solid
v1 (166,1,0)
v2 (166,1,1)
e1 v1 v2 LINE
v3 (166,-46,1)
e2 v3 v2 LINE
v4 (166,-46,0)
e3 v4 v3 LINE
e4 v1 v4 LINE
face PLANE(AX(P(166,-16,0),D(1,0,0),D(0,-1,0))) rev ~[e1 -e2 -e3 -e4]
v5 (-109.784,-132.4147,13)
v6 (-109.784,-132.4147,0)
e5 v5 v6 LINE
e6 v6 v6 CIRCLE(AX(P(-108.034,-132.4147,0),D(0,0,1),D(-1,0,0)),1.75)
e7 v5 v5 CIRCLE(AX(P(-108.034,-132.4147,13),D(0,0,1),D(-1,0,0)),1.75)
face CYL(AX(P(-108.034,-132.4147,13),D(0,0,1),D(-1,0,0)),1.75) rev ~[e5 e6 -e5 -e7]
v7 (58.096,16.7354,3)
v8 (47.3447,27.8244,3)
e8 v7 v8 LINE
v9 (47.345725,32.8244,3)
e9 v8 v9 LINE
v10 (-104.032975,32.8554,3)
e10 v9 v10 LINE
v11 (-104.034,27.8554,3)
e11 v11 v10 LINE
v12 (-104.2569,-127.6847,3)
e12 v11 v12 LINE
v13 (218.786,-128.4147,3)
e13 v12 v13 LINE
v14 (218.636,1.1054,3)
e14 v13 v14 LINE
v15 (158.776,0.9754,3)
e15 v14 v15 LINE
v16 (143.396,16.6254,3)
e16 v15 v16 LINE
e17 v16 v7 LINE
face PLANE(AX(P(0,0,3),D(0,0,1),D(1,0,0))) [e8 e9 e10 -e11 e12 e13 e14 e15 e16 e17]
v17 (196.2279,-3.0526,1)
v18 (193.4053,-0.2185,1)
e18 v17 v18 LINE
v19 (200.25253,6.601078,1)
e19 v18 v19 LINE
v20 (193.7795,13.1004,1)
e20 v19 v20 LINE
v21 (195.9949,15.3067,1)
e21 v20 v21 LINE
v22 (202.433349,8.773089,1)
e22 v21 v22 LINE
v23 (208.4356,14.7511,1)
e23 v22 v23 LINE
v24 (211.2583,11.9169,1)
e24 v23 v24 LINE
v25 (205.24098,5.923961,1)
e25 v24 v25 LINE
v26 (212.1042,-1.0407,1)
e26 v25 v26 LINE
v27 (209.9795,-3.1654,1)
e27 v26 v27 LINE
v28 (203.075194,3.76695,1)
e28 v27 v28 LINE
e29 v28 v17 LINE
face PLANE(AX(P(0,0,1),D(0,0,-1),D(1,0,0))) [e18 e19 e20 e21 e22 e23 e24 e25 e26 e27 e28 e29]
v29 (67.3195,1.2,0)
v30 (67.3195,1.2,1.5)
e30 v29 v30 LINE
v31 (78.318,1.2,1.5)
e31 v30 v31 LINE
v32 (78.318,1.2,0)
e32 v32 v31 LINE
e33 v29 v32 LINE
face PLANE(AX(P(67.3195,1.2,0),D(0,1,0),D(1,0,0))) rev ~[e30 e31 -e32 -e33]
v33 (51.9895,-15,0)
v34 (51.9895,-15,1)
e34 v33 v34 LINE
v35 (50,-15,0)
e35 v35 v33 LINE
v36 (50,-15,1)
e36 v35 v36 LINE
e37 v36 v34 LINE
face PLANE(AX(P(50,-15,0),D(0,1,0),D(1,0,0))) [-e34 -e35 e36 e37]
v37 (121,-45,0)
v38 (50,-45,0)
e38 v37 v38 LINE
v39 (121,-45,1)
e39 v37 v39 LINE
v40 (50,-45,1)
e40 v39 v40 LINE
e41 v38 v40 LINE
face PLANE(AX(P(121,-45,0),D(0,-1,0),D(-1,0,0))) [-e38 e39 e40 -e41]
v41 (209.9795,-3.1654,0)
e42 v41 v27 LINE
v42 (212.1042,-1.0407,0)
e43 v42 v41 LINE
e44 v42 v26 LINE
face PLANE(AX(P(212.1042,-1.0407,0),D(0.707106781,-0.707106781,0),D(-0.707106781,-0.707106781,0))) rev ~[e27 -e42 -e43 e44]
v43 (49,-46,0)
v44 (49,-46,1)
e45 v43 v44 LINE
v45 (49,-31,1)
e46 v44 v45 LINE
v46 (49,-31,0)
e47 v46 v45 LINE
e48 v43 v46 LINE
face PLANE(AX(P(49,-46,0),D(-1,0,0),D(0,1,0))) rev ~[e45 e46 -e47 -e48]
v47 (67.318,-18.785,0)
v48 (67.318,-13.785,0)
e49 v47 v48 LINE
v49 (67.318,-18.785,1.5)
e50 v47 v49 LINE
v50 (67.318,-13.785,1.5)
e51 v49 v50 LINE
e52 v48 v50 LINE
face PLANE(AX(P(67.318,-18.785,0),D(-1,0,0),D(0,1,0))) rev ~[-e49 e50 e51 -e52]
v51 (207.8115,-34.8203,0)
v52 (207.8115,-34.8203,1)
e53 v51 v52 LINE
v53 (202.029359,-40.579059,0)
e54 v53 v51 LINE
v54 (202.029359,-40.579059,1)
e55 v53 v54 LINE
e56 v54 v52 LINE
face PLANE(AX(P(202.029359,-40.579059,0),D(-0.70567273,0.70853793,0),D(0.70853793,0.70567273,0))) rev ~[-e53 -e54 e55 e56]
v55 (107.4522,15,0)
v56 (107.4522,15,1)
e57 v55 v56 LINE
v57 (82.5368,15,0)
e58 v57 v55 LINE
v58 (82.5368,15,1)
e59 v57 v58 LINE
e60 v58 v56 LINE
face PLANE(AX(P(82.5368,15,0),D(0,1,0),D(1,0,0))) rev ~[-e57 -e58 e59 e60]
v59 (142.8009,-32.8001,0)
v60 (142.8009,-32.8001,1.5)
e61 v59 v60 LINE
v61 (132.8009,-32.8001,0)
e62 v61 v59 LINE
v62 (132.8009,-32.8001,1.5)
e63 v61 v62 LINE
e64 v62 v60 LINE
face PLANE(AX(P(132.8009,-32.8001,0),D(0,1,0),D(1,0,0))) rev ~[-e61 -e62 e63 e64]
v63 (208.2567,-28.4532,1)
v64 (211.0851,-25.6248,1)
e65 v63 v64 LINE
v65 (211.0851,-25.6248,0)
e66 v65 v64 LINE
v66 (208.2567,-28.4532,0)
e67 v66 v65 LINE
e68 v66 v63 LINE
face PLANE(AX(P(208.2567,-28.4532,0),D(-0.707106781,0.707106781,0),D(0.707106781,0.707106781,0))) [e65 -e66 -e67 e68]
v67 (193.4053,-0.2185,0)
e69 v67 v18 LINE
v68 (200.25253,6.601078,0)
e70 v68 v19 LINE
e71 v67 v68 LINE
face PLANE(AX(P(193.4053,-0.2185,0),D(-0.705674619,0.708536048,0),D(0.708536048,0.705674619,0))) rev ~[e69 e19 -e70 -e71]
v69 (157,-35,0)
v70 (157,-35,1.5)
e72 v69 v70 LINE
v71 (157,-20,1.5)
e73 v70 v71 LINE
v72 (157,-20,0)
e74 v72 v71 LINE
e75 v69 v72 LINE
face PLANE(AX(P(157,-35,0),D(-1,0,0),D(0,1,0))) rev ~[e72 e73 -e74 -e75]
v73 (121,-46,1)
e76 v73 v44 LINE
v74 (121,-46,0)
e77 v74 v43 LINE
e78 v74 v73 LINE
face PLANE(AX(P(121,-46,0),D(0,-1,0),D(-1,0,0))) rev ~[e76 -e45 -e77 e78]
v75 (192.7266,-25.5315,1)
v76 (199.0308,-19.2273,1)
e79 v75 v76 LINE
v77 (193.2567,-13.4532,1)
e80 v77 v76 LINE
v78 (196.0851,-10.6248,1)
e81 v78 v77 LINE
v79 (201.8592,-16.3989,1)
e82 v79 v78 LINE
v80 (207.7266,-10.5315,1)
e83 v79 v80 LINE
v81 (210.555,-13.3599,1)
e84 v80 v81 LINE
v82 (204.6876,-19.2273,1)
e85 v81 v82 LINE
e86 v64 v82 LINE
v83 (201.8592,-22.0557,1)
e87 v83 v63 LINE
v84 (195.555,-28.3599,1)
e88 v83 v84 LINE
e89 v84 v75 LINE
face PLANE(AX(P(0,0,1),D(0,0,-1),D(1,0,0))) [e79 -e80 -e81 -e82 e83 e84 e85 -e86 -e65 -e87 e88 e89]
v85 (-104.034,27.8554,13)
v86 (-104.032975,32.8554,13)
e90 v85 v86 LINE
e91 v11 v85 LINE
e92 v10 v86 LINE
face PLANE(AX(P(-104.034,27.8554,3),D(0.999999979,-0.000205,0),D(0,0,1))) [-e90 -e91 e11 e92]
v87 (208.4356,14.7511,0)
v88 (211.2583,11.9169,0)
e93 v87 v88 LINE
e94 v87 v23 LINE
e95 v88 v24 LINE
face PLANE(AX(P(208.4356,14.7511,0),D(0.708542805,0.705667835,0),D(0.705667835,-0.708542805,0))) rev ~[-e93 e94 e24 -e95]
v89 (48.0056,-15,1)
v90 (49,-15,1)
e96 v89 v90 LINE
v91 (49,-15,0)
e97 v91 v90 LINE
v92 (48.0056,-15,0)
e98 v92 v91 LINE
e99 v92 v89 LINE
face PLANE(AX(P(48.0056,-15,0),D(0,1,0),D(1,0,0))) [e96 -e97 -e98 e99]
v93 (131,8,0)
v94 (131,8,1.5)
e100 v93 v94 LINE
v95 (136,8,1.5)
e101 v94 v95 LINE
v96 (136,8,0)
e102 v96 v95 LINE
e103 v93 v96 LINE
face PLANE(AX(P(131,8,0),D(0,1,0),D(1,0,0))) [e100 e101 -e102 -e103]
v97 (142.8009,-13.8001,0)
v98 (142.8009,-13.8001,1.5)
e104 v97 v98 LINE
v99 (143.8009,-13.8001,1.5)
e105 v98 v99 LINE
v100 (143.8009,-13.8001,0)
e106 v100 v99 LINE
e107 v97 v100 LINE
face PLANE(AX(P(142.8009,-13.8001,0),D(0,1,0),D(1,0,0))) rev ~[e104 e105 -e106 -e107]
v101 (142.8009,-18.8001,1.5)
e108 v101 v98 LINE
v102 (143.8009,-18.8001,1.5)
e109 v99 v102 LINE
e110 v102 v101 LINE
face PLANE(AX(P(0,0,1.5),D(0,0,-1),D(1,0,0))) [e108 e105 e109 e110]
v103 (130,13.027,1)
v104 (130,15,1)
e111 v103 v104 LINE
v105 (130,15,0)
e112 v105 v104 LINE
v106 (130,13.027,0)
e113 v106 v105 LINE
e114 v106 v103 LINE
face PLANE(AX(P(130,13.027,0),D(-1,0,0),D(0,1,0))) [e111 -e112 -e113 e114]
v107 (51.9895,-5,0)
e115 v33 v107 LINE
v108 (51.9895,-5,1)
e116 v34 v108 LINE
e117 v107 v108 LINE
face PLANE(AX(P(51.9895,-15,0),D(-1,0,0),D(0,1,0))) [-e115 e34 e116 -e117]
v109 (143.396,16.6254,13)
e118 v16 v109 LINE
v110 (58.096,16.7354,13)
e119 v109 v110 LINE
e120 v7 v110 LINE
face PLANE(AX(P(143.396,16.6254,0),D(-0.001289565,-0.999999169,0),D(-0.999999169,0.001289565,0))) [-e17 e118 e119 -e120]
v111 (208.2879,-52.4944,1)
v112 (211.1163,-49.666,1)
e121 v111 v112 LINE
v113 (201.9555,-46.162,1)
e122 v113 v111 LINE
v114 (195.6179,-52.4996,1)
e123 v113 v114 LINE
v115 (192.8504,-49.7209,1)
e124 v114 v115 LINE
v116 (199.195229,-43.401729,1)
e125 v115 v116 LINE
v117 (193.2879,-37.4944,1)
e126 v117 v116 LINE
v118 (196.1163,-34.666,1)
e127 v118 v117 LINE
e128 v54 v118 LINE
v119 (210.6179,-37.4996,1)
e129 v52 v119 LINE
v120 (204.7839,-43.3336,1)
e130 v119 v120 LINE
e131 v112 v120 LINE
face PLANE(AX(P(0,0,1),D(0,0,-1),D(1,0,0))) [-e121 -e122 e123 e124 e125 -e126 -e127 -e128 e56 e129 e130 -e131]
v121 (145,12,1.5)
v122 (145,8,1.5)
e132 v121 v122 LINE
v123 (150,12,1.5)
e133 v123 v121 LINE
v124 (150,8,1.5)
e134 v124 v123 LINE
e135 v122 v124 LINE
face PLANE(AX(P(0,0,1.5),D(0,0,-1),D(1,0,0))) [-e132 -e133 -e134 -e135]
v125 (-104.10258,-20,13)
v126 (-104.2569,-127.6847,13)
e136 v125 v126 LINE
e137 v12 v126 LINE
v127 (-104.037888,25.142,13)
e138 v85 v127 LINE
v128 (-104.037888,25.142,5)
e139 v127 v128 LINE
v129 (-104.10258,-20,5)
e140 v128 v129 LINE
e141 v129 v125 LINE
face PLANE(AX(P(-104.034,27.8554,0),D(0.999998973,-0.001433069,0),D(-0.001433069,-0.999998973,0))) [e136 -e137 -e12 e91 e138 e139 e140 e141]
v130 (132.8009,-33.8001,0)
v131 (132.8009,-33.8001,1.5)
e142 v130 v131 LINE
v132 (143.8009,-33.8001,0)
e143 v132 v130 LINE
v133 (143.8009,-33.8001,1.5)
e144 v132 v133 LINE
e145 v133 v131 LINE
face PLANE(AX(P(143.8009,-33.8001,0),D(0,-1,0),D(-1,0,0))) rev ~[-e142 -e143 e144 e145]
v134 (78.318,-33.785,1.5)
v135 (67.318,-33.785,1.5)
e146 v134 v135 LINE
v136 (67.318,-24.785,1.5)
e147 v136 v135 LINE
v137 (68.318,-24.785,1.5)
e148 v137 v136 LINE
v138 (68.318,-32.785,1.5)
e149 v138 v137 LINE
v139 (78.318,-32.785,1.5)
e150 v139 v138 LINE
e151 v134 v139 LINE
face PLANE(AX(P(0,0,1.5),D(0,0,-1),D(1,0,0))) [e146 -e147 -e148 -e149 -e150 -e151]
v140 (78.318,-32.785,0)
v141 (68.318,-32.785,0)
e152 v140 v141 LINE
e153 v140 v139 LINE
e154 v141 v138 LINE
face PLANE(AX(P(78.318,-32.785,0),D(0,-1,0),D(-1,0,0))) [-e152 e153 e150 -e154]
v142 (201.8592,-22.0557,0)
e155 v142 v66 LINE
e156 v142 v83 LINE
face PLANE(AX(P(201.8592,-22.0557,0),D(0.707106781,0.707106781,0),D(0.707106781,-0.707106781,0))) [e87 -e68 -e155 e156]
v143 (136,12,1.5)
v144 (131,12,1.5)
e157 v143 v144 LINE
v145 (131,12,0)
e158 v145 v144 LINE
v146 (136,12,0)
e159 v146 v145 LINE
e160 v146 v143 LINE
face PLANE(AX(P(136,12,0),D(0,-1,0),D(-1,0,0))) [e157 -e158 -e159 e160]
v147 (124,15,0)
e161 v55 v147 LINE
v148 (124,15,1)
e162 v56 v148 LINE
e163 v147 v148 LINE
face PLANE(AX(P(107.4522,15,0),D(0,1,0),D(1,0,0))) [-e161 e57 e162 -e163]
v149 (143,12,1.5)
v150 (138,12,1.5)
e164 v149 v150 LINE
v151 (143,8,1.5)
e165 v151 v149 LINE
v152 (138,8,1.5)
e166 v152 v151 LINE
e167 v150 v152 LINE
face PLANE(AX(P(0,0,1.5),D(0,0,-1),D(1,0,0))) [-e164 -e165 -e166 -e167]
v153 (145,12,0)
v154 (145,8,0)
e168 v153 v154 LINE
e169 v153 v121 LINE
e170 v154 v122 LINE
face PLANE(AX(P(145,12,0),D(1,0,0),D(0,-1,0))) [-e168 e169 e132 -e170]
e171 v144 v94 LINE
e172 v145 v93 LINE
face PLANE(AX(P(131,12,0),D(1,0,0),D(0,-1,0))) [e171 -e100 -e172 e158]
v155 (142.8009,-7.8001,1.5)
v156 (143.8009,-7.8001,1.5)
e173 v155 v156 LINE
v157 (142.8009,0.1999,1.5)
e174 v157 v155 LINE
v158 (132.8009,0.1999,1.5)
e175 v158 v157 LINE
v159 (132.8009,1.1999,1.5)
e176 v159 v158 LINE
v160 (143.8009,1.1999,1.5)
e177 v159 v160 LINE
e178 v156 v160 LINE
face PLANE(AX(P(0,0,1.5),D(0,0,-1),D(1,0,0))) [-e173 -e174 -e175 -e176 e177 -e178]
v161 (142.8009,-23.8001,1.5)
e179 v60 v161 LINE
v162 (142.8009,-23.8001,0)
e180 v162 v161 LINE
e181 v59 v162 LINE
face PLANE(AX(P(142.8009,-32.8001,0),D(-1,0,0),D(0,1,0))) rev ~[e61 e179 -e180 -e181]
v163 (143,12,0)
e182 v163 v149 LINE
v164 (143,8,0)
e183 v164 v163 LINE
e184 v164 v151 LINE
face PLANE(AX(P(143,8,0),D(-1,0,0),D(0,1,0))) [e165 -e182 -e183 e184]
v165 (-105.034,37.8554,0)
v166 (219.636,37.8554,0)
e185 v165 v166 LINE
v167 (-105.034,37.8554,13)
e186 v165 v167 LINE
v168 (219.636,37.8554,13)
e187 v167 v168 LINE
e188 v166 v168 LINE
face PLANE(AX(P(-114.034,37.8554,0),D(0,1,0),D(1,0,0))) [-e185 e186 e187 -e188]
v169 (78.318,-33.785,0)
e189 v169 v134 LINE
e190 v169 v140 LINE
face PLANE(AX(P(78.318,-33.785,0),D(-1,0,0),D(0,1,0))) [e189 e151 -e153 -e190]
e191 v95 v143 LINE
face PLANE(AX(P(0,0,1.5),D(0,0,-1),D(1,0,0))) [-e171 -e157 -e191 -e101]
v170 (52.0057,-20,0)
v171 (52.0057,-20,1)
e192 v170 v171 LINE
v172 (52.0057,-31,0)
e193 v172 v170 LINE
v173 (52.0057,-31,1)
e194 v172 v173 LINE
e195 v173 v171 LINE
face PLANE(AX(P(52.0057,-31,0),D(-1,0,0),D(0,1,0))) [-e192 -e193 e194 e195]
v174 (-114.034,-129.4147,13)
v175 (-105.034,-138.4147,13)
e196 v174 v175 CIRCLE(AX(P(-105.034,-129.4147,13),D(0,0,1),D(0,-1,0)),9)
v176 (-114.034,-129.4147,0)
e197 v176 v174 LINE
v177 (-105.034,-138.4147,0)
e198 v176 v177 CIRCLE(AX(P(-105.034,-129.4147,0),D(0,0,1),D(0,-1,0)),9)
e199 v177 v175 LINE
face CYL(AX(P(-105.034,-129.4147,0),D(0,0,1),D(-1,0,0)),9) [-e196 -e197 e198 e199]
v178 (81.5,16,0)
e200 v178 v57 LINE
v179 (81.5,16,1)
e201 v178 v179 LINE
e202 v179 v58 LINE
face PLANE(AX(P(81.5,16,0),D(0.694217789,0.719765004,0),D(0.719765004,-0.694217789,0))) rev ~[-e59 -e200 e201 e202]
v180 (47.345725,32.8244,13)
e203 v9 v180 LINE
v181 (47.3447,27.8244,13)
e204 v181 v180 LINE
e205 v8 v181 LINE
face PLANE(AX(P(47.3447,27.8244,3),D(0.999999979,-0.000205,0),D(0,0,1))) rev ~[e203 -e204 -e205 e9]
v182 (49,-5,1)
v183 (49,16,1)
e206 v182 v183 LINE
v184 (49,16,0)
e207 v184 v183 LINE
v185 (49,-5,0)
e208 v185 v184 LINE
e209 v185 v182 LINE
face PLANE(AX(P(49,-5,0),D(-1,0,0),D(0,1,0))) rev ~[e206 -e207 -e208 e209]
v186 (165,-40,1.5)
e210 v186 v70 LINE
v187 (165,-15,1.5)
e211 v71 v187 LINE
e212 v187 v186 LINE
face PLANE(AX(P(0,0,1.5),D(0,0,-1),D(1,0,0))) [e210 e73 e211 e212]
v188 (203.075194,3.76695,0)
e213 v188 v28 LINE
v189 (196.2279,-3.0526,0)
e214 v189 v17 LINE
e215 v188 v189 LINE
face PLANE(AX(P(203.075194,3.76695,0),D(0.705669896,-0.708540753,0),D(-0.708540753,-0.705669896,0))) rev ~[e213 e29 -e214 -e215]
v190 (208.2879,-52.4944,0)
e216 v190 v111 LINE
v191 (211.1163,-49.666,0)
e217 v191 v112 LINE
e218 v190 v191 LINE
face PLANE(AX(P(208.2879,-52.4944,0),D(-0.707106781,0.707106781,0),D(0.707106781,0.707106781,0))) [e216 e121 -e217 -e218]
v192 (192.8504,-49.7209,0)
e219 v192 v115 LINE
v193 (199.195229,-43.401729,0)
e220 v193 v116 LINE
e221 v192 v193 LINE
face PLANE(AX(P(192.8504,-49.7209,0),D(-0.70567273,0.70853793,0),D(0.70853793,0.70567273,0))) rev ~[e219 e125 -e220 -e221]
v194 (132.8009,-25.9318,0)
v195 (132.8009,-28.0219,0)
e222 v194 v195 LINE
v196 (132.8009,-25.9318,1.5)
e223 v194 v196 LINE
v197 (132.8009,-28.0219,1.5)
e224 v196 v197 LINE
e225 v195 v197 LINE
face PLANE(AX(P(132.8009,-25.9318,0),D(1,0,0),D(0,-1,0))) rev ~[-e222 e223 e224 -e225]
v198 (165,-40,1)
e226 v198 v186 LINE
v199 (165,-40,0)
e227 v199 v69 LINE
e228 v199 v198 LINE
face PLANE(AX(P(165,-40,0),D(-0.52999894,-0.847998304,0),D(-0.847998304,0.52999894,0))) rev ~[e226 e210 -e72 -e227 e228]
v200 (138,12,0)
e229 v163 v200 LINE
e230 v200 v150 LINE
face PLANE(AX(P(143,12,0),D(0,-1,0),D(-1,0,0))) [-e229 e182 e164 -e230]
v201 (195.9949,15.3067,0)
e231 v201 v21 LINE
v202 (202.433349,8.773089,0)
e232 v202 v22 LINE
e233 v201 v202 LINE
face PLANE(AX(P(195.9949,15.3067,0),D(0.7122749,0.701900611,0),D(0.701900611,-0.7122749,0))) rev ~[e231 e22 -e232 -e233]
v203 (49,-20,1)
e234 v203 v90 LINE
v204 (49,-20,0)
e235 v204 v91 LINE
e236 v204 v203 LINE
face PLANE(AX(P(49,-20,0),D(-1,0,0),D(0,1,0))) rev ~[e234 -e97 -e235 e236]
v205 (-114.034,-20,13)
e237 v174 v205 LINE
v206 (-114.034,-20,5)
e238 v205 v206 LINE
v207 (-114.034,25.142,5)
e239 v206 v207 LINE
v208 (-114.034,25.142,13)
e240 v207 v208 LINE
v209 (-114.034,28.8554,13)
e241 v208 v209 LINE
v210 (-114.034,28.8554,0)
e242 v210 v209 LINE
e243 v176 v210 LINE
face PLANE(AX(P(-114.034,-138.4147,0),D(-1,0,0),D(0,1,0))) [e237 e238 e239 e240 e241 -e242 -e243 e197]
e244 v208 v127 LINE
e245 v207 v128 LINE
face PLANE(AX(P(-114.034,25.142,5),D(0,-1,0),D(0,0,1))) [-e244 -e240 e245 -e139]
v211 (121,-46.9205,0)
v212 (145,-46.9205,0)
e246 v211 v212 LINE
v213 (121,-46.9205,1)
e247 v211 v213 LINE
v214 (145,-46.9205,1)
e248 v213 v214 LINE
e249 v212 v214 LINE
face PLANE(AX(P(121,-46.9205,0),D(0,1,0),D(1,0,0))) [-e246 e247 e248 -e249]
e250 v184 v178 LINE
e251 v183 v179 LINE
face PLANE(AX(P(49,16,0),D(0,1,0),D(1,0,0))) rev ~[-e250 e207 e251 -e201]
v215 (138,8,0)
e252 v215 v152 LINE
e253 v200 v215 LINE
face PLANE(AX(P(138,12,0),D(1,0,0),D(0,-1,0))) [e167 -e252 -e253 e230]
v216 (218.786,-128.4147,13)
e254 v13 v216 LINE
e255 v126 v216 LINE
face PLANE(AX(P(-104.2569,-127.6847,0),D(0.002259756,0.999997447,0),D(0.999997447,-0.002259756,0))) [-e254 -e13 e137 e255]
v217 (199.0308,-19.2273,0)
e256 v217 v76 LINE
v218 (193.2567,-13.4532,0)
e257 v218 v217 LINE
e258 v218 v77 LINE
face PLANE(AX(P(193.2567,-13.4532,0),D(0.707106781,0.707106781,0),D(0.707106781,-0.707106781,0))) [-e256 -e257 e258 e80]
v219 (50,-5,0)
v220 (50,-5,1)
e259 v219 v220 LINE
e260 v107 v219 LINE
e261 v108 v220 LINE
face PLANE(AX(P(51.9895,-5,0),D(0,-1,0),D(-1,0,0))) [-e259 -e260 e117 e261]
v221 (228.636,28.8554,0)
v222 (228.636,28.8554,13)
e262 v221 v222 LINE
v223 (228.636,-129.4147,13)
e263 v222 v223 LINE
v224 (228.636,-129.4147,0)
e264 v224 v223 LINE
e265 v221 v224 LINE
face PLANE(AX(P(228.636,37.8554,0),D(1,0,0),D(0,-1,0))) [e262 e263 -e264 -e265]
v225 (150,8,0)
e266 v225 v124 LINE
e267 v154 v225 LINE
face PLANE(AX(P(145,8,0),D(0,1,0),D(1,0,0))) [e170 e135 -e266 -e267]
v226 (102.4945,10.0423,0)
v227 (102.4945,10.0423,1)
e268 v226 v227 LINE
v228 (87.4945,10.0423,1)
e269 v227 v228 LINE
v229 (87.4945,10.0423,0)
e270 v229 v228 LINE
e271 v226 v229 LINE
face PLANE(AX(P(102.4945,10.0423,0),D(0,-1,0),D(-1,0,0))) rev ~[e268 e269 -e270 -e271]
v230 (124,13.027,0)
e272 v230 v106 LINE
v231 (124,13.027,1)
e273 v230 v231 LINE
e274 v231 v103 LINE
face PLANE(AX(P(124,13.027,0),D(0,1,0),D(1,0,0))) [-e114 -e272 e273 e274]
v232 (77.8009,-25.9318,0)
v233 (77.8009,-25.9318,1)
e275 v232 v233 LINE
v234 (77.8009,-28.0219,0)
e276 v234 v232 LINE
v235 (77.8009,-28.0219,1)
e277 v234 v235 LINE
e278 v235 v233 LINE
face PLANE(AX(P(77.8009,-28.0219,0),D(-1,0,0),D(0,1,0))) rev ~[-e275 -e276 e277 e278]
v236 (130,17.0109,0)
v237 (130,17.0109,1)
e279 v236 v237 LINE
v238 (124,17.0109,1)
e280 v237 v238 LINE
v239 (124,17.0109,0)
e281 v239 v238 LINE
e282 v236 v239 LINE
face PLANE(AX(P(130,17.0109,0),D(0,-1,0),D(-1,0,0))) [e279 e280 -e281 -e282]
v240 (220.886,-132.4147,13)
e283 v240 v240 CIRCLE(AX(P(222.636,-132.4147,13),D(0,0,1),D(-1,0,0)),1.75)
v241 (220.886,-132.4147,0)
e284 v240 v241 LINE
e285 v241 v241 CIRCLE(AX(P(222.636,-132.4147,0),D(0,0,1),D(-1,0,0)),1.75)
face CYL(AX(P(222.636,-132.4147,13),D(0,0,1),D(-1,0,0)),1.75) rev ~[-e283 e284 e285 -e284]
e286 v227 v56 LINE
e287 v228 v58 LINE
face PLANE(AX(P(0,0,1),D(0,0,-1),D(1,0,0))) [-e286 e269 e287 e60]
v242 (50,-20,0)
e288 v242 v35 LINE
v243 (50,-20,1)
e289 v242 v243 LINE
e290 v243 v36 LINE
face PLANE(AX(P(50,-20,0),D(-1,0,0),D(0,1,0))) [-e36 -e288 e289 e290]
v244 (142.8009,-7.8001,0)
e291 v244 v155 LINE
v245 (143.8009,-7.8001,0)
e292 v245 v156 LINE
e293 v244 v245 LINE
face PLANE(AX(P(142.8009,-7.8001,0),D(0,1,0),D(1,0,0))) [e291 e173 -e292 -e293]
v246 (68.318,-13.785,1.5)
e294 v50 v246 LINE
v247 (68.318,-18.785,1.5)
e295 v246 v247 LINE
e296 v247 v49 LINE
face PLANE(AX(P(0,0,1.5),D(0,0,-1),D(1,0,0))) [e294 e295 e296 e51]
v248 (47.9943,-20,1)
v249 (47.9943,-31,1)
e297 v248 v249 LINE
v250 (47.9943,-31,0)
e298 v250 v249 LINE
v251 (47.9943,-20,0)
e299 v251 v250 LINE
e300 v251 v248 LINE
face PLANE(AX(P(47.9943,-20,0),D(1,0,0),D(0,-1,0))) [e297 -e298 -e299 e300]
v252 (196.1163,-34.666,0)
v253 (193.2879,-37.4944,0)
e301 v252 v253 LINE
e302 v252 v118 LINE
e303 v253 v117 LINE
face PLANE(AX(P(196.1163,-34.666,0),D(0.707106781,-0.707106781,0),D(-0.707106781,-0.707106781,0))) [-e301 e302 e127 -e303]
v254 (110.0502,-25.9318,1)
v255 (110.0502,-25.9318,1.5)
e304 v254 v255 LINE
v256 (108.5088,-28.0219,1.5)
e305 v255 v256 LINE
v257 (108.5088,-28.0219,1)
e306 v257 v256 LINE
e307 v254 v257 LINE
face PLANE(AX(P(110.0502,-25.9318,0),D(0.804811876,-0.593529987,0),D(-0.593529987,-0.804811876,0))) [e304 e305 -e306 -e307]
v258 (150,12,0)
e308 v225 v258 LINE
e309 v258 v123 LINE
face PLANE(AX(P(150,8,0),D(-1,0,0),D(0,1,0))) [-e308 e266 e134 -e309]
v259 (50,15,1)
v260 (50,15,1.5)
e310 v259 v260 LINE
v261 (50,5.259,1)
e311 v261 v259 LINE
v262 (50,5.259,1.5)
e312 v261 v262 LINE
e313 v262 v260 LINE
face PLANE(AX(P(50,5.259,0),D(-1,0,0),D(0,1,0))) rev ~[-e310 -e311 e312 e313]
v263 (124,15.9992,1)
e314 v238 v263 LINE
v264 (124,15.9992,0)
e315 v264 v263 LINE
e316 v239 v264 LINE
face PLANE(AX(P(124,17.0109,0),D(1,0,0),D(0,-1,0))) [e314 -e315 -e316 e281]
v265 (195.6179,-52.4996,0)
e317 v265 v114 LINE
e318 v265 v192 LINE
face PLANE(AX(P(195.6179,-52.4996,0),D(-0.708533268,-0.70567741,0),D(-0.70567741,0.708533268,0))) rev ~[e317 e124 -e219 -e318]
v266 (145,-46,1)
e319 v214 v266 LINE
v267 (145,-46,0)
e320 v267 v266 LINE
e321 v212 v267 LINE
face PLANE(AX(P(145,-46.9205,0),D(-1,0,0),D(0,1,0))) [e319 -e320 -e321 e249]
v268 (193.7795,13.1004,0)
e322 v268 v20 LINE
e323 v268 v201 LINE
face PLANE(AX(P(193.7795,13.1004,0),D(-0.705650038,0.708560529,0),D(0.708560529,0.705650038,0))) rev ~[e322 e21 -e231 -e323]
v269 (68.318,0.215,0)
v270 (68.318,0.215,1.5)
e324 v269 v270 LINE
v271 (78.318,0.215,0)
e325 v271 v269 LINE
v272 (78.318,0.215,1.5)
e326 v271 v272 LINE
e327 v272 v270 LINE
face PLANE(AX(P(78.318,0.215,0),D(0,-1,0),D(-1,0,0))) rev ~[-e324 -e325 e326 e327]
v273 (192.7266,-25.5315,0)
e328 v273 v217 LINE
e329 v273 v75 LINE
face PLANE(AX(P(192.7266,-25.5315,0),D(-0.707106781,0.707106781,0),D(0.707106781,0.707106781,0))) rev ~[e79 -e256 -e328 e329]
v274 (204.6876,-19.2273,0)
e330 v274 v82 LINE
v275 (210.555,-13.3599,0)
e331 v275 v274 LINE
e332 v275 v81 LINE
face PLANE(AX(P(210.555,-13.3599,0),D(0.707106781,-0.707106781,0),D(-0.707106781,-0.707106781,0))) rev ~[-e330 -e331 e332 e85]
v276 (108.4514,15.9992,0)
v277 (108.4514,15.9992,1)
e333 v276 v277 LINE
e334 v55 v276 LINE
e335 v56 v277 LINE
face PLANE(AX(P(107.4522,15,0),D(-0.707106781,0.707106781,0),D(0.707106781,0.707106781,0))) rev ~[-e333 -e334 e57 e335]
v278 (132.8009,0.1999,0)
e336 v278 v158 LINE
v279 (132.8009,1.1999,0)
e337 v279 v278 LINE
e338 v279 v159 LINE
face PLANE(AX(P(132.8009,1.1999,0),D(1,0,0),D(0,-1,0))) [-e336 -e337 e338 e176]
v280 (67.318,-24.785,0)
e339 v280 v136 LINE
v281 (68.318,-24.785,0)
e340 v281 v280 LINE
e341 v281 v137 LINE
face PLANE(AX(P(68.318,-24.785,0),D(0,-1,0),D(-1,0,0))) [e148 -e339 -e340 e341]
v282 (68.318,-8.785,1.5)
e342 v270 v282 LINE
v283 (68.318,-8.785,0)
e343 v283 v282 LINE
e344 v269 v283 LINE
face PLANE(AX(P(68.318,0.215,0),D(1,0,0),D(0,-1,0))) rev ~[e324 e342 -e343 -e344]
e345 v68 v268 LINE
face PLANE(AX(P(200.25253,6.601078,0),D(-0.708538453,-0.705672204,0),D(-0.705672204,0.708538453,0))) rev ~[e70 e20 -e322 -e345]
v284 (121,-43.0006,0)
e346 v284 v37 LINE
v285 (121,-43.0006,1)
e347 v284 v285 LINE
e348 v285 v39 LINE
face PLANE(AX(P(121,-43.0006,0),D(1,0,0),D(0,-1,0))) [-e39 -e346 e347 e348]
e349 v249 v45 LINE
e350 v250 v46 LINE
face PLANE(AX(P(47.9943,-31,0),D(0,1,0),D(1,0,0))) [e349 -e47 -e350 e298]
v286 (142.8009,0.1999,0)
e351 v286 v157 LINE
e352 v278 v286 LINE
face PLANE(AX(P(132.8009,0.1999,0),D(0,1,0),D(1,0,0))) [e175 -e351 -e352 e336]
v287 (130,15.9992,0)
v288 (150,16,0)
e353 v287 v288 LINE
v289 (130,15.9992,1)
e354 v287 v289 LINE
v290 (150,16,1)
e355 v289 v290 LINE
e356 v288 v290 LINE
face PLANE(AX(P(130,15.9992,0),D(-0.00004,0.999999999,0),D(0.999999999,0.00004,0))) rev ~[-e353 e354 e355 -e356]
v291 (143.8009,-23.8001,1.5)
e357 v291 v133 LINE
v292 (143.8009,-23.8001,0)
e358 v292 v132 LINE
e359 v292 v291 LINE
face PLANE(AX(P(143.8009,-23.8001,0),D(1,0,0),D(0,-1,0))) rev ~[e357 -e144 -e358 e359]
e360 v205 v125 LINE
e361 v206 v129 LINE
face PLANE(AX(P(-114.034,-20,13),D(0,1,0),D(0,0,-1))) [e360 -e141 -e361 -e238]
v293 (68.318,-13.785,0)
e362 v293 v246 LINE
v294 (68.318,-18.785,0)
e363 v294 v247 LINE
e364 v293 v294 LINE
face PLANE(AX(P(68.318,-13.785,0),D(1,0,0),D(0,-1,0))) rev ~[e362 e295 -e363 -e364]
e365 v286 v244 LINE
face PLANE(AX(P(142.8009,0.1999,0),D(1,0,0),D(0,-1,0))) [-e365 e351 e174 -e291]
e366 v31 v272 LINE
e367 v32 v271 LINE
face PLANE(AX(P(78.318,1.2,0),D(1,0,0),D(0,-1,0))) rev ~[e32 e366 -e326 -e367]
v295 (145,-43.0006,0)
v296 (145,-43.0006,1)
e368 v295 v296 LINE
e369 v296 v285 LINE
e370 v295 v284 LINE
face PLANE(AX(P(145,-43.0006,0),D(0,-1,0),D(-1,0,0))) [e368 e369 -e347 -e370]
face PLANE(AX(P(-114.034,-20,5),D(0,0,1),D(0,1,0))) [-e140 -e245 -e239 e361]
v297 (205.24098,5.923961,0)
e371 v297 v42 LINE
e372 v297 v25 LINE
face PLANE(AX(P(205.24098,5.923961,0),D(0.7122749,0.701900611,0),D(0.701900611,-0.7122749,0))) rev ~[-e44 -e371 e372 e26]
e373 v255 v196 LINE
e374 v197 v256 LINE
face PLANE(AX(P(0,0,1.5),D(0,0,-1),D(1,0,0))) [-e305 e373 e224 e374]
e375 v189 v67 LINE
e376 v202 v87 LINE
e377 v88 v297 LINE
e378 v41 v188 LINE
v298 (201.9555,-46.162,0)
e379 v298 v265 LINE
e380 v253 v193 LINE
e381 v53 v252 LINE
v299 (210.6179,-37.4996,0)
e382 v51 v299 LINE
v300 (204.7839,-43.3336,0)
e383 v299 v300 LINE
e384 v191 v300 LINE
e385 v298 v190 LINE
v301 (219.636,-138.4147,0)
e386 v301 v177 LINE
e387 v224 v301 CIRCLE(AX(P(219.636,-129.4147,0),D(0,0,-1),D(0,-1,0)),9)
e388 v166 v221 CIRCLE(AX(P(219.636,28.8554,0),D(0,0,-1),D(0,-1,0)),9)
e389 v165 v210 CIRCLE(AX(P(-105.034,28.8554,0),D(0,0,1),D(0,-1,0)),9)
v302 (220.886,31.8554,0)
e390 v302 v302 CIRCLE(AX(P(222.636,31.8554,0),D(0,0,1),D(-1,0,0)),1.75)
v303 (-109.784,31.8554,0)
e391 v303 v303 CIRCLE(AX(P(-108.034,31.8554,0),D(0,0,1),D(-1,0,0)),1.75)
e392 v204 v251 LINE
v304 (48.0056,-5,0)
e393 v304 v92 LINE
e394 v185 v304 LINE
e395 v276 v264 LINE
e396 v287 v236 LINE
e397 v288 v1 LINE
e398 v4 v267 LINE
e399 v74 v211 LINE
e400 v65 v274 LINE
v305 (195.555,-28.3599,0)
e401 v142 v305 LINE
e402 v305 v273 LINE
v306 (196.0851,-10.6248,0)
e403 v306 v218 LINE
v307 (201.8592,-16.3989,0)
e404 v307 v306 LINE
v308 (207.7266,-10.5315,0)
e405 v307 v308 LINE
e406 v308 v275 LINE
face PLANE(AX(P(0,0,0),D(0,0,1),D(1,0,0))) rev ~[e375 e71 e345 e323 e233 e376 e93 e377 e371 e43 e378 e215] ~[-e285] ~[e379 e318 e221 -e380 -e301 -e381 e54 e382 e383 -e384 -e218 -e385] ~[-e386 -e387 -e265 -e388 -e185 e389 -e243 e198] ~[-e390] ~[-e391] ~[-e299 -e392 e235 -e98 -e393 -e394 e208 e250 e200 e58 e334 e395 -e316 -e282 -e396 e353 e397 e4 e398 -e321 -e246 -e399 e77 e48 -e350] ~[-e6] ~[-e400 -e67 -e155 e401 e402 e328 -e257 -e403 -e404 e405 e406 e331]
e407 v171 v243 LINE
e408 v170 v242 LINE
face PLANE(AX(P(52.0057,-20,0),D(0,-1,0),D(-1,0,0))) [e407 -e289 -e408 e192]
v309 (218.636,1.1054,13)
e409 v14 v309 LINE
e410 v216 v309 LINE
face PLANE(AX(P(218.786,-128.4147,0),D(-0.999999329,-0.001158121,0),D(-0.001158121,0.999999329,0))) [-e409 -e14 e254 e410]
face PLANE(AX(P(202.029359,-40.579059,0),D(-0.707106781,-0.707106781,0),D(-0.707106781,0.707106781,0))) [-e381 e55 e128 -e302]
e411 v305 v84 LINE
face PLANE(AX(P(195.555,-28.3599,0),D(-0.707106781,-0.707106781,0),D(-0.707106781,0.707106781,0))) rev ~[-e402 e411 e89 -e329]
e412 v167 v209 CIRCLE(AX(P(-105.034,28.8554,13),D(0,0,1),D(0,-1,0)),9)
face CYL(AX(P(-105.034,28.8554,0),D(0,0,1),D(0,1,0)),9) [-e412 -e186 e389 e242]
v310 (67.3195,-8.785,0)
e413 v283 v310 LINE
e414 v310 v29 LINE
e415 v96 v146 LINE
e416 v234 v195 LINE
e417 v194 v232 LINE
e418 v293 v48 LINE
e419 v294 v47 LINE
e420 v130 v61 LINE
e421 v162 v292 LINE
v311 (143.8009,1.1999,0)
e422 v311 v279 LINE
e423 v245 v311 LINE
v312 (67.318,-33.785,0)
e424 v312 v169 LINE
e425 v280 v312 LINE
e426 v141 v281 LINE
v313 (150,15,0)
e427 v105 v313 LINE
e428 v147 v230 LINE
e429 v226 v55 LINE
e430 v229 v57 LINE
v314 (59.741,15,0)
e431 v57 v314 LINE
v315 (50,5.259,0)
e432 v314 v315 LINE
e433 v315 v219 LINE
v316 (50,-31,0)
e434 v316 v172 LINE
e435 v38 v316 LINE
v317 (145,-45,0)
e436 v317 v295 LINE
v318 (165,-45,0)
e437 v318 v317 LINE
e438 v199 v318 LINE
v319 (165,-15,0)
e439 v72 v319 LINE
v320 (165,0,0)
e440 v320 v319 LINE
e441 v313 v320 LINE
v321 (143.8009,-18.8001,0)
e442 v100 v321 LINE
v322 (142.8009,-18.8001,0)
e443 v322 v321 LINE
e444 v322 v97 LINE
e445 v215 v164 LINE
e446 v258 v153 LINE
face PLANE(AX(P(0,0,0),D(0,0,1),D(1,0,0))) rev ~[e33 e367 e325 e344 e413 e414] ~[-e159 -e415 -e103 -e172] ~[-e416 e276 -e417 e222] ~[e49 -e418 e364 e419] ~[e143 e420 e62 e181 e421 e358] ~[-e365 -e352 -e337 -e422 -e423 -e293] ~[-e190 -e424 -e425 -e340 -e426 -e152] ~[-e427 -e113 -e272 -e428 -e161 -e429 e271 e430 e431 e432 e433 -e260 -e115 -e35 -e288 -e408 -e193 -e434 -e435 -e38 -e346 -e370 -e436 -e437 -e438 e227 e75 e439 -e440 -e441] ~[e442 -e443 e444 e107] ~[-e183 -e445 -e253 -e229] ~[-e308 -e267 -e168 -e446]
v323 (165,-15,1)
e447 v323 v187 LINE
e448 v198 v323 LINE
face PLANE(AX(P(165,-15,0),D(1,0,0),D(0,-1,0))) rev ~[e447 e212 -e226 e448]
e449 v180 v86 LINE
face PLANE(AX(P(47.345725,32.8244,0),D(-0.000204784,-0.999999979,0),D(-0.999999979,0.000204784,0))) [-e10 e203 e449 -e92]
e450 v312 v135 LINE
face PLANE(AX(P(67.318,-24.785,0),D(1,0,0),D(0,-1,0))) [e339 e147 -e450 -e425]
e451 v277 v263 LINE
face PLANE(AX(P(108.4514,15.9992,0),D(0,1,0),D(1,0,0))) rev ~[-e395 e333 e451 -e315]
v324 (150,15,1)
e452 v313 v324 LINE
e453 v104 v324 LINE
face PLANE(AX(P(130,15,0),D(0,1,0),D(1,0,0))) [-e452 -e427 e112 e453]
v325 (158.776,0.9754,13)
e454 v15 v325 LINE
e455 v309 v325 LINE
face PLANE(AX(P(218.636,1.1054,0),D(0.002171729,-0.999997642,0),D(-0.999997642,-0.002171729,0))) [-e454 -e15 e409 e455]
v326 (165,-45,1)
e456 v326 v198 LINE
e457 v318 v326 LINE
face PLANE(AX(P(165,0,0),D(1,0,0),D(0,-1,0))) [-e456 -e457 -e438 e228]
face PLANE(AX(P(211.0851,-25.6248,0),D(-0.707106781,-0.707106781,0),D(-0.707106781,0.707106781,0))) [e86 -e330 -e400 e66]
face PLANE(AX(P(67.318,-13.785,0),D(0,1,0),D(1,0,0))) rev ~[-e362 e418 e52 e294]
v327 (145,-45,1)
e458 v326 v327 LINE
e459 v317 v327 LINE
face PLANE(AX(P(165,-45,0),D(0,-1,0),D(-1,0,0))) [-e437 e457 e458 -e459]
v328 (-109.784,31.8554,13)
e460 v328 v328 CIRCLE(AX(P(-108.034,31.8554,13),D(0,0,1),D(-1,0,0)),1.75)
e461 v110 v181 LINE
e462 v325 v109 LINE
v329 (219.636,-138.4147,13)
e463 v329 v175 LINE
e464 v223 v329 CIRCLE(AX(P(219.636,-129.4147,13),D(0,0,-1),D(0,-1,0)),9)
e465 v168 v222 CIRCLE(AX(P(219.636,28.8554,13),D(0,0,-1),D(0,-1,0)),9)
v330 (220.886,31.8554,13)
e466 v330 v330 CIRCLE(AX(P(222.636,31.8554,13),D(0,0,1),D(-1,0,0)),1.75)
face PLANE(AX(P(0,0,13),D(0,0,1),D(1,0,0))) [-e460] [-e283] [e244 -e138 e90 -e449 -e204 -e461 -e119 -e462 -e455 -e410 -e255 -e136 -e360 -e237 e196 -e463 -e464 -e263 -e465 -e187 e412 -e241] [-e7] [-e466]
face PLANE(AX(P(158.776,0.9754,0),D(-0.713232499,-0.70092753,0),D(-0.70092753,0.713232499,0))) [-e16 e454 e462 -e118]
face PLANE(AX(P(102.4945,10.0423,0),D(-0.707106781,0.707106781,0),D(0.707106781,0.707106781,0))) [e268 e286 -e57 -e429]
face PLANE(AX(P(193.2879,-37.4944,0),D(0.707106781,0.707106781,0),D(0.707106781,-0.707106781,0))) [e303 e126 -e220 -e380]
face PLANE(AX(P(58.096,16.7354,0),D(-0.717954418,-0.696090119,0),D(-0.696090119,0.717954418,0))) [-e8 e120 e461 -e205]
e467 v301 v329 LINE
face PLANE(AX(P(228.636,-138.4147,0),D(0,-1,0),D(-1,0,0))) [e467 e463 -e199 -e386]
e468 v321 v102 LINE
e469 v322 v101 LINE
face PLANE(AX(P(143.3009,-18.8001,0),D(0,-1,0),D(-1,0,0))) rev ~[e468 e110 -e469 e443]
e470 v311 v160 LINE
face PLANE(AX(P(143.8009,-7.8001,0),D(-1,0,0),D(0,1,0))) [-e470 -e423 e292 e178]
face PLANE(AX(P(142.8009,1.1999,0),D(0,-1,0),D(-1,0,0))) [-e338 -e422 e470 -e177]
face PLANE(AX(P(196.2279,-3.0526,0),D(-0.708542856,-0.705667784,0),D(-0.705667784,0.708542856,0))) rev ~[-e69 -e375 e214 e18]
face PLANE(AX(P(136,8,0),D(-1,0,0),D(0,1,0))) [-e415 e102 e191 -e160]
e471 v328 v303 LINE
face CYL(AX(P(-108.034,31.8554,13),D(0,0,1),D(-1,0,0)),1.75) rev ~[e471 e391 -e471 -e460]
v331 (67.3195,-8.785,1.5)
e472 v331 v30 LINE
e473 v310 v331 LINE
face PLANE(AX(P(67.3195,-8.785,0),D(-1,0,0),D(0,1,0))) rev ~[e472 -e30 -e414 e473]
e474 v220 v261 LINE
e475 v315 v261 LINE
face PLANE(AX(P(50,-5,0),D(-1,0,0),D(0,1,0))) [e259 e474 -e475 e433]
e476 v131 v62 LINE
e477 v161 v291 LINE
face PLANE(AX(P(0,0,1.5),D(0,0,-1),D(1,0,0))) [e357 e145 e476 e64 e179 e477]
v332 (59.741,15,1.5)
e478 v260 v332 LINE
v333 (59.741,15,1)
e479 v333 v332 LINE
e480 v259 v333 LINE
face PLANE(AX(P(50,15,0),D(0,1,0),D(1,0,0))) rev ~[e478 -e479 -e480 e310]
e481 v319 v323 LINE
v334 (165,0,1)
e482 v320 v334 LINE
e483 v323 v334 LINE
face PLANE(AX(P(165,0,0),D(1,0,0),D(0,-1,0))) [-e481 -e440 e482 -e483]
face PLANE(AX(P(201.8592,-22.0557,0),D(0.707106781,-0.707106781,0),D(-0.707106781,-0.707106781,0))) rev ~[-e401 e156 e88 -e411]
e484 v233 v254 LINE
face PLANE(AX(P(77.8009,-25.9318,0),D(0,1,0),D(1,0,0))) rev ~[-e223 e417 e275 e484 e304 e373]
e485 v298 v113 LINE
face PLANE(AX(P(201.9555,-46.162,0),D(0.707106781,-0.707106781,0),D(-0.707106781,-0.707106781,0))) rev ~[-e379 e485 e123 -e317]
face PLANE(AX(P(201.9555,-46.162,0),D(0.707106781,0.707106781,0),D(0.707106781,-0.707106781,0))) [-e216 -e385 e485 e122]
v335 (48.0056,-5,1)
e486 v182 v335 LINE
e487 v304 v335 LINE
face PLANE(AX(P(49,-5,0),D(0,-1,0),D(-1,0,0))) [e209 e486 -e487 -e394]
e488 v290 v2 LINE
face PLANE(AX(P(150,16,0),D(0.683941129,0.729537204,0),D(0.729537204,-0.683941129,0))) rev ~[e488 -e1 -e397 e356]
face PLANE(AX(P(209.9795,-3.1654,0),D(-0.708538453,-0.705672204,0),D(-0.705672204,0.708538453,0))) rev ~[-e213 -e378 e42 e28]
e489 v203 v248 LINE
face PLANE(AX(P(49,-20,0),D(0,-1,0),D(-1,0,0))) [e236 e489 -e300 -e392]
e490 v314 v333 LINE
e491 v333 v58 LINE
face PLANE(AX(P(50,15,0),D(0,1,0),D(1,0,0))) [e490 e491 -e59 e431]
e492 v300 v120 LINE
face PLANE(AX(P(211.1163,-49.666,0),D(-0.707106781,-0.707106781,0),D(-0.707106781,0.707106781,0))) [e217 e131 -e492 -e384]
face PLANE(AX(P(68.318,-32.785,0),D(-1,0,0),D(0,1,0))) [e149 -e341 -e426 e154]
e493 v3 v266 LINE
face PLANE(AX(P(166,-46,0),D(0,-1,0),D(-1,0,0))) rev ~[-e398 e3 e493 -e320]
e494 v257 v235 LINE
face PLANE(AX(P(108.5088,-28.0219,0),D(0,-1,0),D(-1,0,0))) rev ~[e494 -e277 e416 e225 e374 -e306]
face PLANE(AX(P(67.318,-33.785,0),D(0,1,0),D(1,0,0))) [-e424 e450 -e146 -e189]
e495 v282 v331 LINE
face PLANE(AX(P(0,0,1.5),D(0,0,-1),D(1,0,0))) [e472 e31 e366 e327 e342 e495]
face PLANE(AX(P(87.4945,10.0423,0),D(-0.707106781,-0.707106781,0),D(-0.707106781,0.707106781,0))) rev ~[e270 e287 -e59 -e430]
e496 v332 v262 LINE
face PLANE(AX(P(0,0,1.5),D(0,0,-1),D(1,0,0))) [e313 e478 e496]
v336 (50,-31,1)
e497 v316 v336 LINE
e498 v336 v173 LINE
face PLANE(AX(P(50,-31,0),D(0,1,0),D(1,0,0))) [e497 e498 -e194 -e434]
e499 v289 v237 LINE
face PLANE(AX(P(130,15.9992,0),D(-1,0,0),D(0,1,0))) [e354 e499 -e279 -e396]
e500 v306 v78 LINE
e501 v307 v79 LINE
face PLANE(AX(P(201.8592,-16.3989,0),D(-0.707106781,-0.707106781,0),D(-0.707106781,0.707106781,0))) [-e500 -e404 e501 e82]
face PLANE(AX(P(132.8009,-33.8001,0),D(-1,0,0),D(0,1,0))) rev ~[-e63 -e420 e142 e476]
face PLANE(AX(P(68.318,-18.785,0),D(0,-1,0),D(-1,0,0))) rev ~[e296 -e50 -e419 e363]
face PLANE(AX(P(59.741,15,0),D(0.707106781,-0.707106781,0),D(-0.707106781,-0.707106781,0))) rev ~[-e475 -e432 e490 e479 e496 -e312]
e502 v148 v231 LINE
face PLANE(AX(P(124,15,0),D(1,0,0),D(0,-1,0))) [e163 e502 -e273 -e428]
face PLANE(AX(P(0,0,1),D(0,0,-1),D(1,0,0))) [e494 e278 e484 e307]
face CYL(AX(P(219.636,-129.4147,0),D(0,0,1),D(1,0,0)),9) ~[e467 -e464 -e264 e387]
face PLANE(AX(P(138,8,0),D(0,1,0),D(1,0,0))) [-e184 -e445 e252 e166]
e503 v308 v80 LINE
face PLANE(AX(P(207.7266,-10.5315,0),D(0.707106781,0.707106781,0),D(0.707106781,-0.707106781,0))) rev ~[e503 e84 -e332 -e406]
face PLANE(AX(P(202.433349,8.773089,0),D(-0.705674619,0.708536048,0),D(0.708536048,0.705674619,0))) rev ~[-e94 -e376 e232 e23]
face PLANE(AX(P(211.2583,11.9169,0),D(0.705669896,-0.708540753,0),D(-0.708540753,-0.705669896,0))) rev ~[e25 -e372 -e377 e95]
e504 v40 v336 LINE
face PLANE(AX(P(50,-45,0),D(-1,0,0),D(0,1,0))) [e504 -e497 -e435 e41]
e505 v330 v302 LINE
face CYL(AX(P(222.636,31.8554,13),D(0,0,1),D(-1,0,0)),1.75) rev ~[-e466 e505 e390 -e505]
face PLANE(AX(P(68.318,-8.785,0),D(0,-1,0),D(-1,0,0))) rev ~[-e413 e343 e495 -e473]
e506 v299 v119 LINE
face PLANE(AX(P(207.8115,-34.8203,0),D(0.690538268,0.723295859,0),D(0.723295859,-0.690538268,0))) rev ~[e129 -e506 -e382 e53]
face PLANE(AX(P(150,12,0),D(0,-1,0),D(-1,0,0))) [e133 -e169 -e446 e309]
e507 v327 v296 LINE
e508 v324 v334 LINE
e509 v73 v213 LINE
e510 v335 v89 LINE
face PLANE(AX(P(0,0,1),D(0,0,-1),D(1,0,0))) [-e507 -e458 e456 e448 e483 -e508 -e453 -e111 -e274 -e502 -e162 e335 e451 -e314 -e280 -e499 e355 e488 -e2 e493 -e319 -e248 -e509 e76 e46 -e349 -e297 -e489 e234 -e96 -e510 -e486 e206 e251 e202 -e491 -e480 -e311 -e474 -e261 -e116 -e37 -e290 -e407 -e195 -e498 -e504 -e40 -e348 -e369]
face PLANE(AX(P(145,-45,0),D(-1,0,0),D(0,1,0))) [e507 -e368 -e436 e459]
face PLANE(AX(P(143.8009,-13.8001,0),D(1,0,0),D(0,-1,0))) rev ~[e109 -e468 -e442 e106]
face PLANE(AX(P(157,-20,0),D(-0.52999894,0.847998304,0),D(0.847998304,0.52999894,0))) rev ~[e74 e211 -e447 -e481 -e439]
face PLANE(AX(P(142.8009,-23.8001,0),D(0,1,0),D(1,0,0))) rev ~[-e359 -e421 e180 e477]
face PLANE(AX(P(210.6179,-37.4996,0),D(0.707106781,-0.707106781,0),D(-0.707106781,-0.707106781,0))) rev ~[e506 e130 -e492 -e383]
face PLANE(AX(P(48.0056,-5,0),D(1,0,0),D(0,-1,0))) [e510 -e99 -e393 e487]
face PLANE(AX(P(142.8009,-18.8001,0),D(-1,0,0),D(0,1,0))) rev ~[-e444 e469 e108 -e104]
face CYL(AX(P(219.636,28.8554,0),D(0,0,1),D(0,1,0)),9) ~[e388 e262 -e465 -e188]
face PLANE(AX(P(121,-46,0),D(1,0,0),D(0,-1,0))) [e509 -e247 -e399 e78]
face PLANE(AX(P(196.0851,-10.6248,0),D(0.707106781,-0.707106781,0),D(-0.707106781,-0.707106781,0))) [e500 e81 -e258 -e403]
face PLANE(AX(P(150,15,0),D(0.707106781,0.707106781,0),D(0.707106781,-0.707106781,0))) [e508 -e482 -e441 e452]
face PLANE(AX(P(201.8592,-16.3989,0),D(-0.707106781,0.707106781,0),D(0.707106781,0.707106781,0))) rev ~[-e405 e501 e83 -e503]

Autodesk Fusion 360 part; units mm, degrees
sketch "Sketch2" plane through (0, 0, 0) normal (0, 0, 1) x (1, 0, 0)
  line L0 (-104.034, 27.8554) -> (-104.2569, -127.6847)
  line L1 (47.3447, 27.8244) -> (-104.034, 27.8554)
  line L2 (58.096, 16.7354) -> (47.3447, 27.8244)
  line L3 (143.396, 16.6254) -> (58.096, 16.7354)
  line L4 (158.776, 0.9754) -> (143.396, 16.6254)
  line L5 (218.636, 1.1054) -> (158.776, 0.9754)
  line L6 (218.786, -128.4147) -> (218.636, 1.1054)
  line L7 (-104.2569, -127.6847) -> (218.786, -128.4147)
  line L8 (-114.034, 37.8554) -> (228.636, 37.8554)
  line L9 (228.636, 37.8554) -> (228.636, -138.4147)
  line L10 (228.636, -138.4147) -> (-114.034, -138.4147)
  line L11 (-114.034, -138.4147) -> (-114.034, 37.8554)
  circle A0 centre (-108.034, 31.8554) radius 1.75
  circle A1 centre (222.636, 31.8554) radius 1.75
  circle A2 centre (-108.034, -132.4147) radius 1.75
  circle A3 centre (222.636, -132.4147) radius 1.75
  dimension "d24" = 10
  dimension "d25" = 10
  dimension "d26" = 10
  dimension "d27" = 10
  dimension "d32" = 3.5
  dimension "d33" = 6
  dimension "d34" = 6
  dimension "d35" = 6
  dimension "d36" = 6
  dimension "d37" = 3.5
  dimension "d38" = 3.5
  dimension "d39" = 6
  dimension "d40" = 6
  dimension "d41" = 3.5
  dimension "d42" = 6
  dimension "d43" = 6
extrude "Extrude2" add sketch "Sketch2" along normal blind 3 contours L0 L1 L2 L3 L4 L5 L6 L7
extrude "Extrude3" add sketch "Sketch2" along normal blind 13 contours L8 L9 L10 L11 | A0 | A1 | A2 | A3
sketch "Sketch5" plane through (0, 0, 13) normal (0, 0, 1) x (-1, 0, 0)
  line L0 (-218.786, 128.4147) -> (104.2569, 127.6847)
  line L1 (104.2569, 127.6847) -> (104.034, -27.8554)
  line L2 (104.034, -27.8554) -> (-47.3447, -27.8244)
  line L3 (-47.3447, -27.8244) -> (-58.096, -16.7354)
  line L4 (-58.096, -16.7354) -> (-143.396, -16.6254)
  line L5 (-143.396, -16.6254) -> (-158.776, -0.9754)
  line L6 (-158.776, -0.9754) -> (-218.636, -1.1054)
  line L7 (-218.636, -1.1054) -> (-218.786, 128.4147)
  line L8 (114.034, 138.4147) -> (-228.636, 138.4147)
  line L9 (-228.636, 138.4147) -> (-228.636, -37.8554)
  line L10 (-228.636, -37.8554) -> (114.034, -37.8554)
  line L11 (114.034, -37.8554) -> (114.034, 138.4147)
  circle A0 centre (108.034, -31.8554) radius 1.75
  line L12 (114.034, -37.8554) -> (-228.636, -37.8554)
  line L13 (114.034, 138.4147) -> (114.034, -37.8554)
  circle A1 centre (108.034, 132.4147) radius 1.75
  line L14 (-228.636, 138.4147) -> (114.034, 138.4147)
  circle A2 centre (-222.636, 132.4147) radius 1.75
  line L15 (-228.636, -37.8554) -> (-228.636, 138.4147)
  circle A3 centre (-222.636, -31.8554) radius 1.75
  dimension "d44" = 3.5
  dimension "d45" = 6
  dimension "d46" = 6
  dimension "d47" = 3.5
  dimension "d48" = 6
  dimension "d49" = 6
  dimension "d50" = 3.5
  dimension "d51" = 6
  dimension "d52" = 6
  dimension "d53" = 3.5
  dimension "d54" = 6
  dimension "d55" = 6
extrude "Extrude4" cut sketch "Sketch5" against normal blind 13 contours A0 | A1 | A2 | A3
fillet "Fillet1" radius 9 4 edges at (-114.034, -138.4147, 6.5) (228.636, -138.4147, 6.5) (228.636, 37.8554, 6.5) (-114.034, 37.8554, 6.5)
sketch "Sketch6" plane through (-114.034, 0, 0) normal (-1, 0, 0) x (0, -1, 0)
  line L0 (-28.8554, 13) -> (-28.8554, 0)
  line L1 (-28.8554, 0) -> (129.4147, 0)
  line L2 (129.4147, 0) -> (129.4147, 13)
  line L3 (129.4147, 13) -> (-28.8554, 13)
  line L4 (-25.142, 13) -> (20, 13)
  line L5 (20, 13) -> (20, 5)
  line L6 (20, 5) -> (-25.142, 5)
  line L7 (-25.142, 5) -> (-25.142, 13)
extrude "Extrude5" cut sketch "Sketch6" against normal blind 50 contours L3 L4 L5 L6 L7
extrude "Extrude6" cut 1 faces at (-3.1149, 27.8347, 6.3333) along direction (0.000205, 1, 0) blind 5
sketch "Sketch7" plane through (0, 0, 0) normal (0, 0, -1) x (1, 0, 0)
  arc A0 (-114.034, -28.8554) -> (-105.034, -37.8554) centre (-105.034, -28.8554) ccw
  line L0 (-105.034, -37.8554) -> (219.636, -37.8554)
  arc A1 (219.636, -37.8554) -> (228.636, -28.8554) centre (219.636, -28.8554) ccw
  line L1 (228.636, -28.8554) -> (228.636, 129.4147)
  arc A2 (228.636, 129.4147) -> (219.636, 138.4147) centre (219.636, 129.4147) ccw
  line L2 (219.636, 138.4147) -> (-105.034, 138.4147)
  arc A3 (-105.034, 138.4147) -> (-114.034, 129.4147) centre (-105.034, 129.4147) ccw
  line L3 (-114.034, 129.4147) -> (-114.034, -28.8554)
  circle A4 centre (-108.034, -31.8554) radius 1.75
  circle A5 centre (222.636, -31.8554) radius 1.75
  circle A6 centre (-108.034, 132.4147) radius 1.75
  circle A7 centre (222.636, 132.4147) radius 1.75
  line L4 (208.4356, -14.7511) -> (211.2583, -11.9169)
  line L5 (211.2583, -11.9169) -> (196.2279, 3.0526)
  line L6 (196.2279, 3.0526) -> (193.4053, 0.2185)
  line L7 (193.4053, 0.2185) -> (208.4356, -14.7511)
  line L8 (212.1042, 1.0407) -> (209.9795, 3.1654)
  line L9 (209.9795, 3.1654) -> (193.7795, -13.1004)
  line L10 (193.7795, -13.1004) -> (195.9949, -15.3067)
  line L11 (195.9949, -15.3067) -> (212.1042, 1.0407)
  line L12 (192.7266, 25.5315) -> (207.7266, 10.5315)
  line L13 (210.555, 13.3599) -> (195.555, 28.3599)
  line L14 (207.7266, 10.5315) -> (210.555, 13.3599)
  line L15 (195.555, 28.3599) -> (192.7266, 25.5315)
  line L16 (211.0851, 25.6248) -> (196.0851, 10.6248)
  line L17 (193.2567, 13.4532) -> (208.2567, 28.4532)
  line L18 (196.0851, 10.6248) -> (193.2567, 13.4532)
  line L19 (208.2567, 28.4532) -> (211.0851, 25.6248)
  line L20 (192.8504, 49.7209) -> (207.8115, 34.8203)
  line L21 (207.8115, 34.8203) -> (210.6179, 37.4996)
  line L22 (210.6179, 37.4996) -> (195.6179, 52.4996)
  line L23 (195.6179, 52.4996) -> (192.8504, 49.7209)
  line L24 (150, -15) -> (165, 0)
  line L25 (165, 0) -> (165, 45)
  line L26 (165, 45) -> (50, 45)
  line L27 (50, 45) -> (50, -15)
  line L28 (50, -15) -> (150, -15)
  line L29 (102.4945, -10.0423) -> (87.4945, -10.0423)
  line L30 (87.4945, -10.0423) -> (82.5368, -15)
  line L31 (102.4945, -10.0423) -> (107.4522, -15)
  line L32 (59.741, -15) -> (50, -5.259)
  line L33 (51.9895, 5) -> (48.0056, 5)
  line L34 (48.0056, 5) -> (48.0056, 15)
  line L35 (48.0056, 15) -> (51.9895, 15)
  line L36 (51.9895, 15) -> (51.9895, 5)
  line L37 (52.0057, 20) -> (47.9943, 20)
  line L38 (47.9943, 20) -> (47.9943, 31)
  line L39 (47.9943, 31) -> (52.0057, 31)
  line L40 (52.0057, 31) -> (52.0057, 20)
  line L41 (130, -17.0109) -> (124, -17.0109)
  line L42 (124, -17.0109) -> (124, -13.027)
  line L43 (124, -13.027) -> (130, -13.027)
  line L44 (130, -13.027) -> (130, -17.0109)
  line L45 (150, -12) -> (145, -12)
  line L46 (145, -12) -> (145, -8)
  line L47 (145, -8) -> (150, -8)
  line L48 (150, -8) -> (150, -12)
  line L49 (143, -12) -> (138, -12)
  line L50 (138, -12) -> (138, -8)
  line L51 (138, -8) -> (143, -8)
  line L52 (143, -8) -> (143, -12)
  line L53 (136, -12) -> (131, -12)
  line L54 (131, -12) -> (131, -8)
  line L55 (131, -8) -> (136, -8)
  line L56 (136, -8) -> (136, -12)
  line L57 (165, 40) -> (157, 35)
  line L58 (157, 35) -> (157, 20)
  line L59 (157, 20) -> (165, 15)
  line L60 (145, 43.0006) -> (121, 43.0006)
  line L61 (121, 43.0006) -> (121, 46.9205)
  line L62 (121, 46.9205) -> (145, 46.9205)
  line L63 (145, 46.9205) -> (145, 43.0006)
  line L64 (142.8009, -1.1999) -> (132.8009, -1.1999)
  line L65 (132.8009, -1.1999) -> (132.8009, -0.1999)
  line L66 (132.8009, -0.1999) -> (142.8009, -0.1999)
  line L67 (142.8009, -0.1999) -> (142.8009, 7.8001)
  line L68 (142.8009, 7.8001) -> (143.8009, 7.8001)
  line L69 (143.8009, 7.8001) -> (143.8009, -1.1999)
  line L70 (143.8009, -1.1999) -> (142.8009, -1.1999)
  line L71 (143.8009, 13.8001) -> (143.8009, 18.8001)
  line L72 (143.8009, 18.8001) -> (143.3009, 18.8001)
  line L73 (143.3009, 18.8001) -> (142.8009, 18.8001)
  line L74 (142.8009, 18.8001) -> (142.8009, 13.8001)
  line L75 (142.8009, 13.8001) -> (143.8009, 13.8001)
  line L76 (143.8009, 23.8001) -> (143.8009, 33.8001)
  line L77 (143.8009, 33.8001) -> (132.8009, 33.8001)
  line L78 (132.8009, 33.8001) -> (132.8009, 32.8001)
  line L79 (132.8009, 32.8001) -> (142.8009, 32.8001)
  line L80 (142.8009, 32.8001) -> (142.8009, 23.8001)
  line L81 (142.8009, 23.8001) -> (143.8009, 23.8001)
  line L82 (67.3195, 8.785) -> (67.3195, -1.2)
  line L83 (67.318, 33.785) -> (68.318, 33.785)
  line L84 (67.318, 24.785) -> (67.318, 33.785)
  line L85 (78.318, 33.785) -> (78.318, 32.785)
  line L86 (67.818, 13.785) -> (68.318, 13.785)
  line L87 (78.318, 32.785) -> (68.318, 32.785)
  line L88 (68.318, 32.785) -> (68.318, 24.785)
  line L89 (68.318, 33.785) -> (78.318, 33.785)
  line L90 (68.318, 24.785) -> (67.318, 24.785)
  line L91 (67.318, 13.785) -> (67.818, 13.785)
  line L92 (78.318, -0.215) -> (68.318, -0.215)
  line L93 (68.318, -0.215) -> (68.318, 8.785)
  line L94 (67.3195, -1.2) -> (78.318, -1.2)
  line L95 (68.318, 13.785) -> (68.318, 18.785)
  line L96 (78.318, -1.2) -> (78.318, -0.215)
  line L97 (67.318, 18.785) -> (67.318, 13.785)
  line L98 (68.318, 8.785) -> (67.3195, 8.785)
  line L99 (68.318, 18.785) -> (67.318, 18.785)
  line L100 (150, -16) -> (166, -1)
  line L101 (166, -1) -> (166, 16)
  line L102 (166, 16) -> (166, 46)
  line L103 (166, 46) -> (145, 46)
  line L104 (121, 46) -> (49, 46)
  line L105 (49, 46) -> (49, 31)
  line L106 (49, 20) -> (49, 15)
  line L107 (49, 5) -> (49, -16)
  line L108 (49, -16) -> (81.5, -16)
  line L109 (81.5, -16) -> (82.5368, -15)
  line L110 (107.4522, -15) -> (108.4514, -15.9992)
  line L111 (108.4514, -15.9992) -> (124, -15.9992)
  line L112 (130, -15.9992) -> (150, -16)
  line L113 (132.8009, 28.0219) -> (77.8009, 28.0219)
  line L114 (77.8009, 28.0219) -> (77.8009, 25.9318)
  line L115 (77.8009, 25.9318) -> (132.8009, 25.9318)
  line L116 (132.8009, 25.9318) -> (132.8009, 28.0219)
  line L117 (110.0502, 25.9318) -> (108.5088, 28.0219)
  line L118 (196.1163, 34.666) -> (193.2879, 37.4944)
  line L119 (211.1163, 49.666) -> (196.1163, 34.666)
  line L120 (193.2879, 37.4944) -> (208.2879, 52.4944)
  line L121 (208.2879, 52.4944) -> (211.1163, 49.666)
  dimension "d64" = 4
  dimension "d66" = 4
  dimension "d68" = 4
  dimension "d69" = 4
extrude "Extrude7" cut sketch "Sketch7" against normal blind 1 contours L4 L5 L7 L11 | L7 L9 L10 L11 | L5 L7 L9 L11 | L5 L8 L9 L11 | L5 L6 L7 L9 | L12 L13 L15 L17 | L12 L13 L16 L17 | L12 L16 L17 L18 | L12 L13 L14 L16 | L13 L16 L17 L19 | L20 L22 L23 L120 | L20 L22 L119 L120 | L20 L118 L119 L120 | L20 L21 L22 L119 | L22 L119 L120 L121 | L24 L25 L26 L28 L44 L63 L100 L101 L102 L103 L112 | L28 L41 L42 L44 | L28 L42 L43 L44 | L28 L42 L110 L111 | L28 L29 L30 L31 | L27 L28 L33 L107 L108 L109 | L26 L60 L61 L63 | L26 L61 L62 L63 | L26 L27 L39 L61 L104 L105 | L27 L33 L34 L35 | L27 L33 L35 L36 | L27 L37 L39 L40 | L27 L37 L38 L39 | L27 L35 L37 L106
extrude "Extrude8" cut sketch "Sketch7" against normal blind 1.5 contours L25 L57 L58 L59 | L27 L28 L32 | L45 L46 L47 L48 | L49 L50 L51 L52 | L53 L54 L55 L56 | L64 L65 L66 L67 L68 L69 L70 | L71 L72 L73 L74 L75 | L76 L77 L78 L79 L80 L81 | L82 L92 L93 L94 L96 L98 | L83 L84 L85 L87 L88 L89 L90 | L86 L91 L95 L97 L99 | L113 L115 L116 L117
extrude "Extrude9" cut sketch "Sketch7" against normal blind 1 contours L113 L114 L115 L117
